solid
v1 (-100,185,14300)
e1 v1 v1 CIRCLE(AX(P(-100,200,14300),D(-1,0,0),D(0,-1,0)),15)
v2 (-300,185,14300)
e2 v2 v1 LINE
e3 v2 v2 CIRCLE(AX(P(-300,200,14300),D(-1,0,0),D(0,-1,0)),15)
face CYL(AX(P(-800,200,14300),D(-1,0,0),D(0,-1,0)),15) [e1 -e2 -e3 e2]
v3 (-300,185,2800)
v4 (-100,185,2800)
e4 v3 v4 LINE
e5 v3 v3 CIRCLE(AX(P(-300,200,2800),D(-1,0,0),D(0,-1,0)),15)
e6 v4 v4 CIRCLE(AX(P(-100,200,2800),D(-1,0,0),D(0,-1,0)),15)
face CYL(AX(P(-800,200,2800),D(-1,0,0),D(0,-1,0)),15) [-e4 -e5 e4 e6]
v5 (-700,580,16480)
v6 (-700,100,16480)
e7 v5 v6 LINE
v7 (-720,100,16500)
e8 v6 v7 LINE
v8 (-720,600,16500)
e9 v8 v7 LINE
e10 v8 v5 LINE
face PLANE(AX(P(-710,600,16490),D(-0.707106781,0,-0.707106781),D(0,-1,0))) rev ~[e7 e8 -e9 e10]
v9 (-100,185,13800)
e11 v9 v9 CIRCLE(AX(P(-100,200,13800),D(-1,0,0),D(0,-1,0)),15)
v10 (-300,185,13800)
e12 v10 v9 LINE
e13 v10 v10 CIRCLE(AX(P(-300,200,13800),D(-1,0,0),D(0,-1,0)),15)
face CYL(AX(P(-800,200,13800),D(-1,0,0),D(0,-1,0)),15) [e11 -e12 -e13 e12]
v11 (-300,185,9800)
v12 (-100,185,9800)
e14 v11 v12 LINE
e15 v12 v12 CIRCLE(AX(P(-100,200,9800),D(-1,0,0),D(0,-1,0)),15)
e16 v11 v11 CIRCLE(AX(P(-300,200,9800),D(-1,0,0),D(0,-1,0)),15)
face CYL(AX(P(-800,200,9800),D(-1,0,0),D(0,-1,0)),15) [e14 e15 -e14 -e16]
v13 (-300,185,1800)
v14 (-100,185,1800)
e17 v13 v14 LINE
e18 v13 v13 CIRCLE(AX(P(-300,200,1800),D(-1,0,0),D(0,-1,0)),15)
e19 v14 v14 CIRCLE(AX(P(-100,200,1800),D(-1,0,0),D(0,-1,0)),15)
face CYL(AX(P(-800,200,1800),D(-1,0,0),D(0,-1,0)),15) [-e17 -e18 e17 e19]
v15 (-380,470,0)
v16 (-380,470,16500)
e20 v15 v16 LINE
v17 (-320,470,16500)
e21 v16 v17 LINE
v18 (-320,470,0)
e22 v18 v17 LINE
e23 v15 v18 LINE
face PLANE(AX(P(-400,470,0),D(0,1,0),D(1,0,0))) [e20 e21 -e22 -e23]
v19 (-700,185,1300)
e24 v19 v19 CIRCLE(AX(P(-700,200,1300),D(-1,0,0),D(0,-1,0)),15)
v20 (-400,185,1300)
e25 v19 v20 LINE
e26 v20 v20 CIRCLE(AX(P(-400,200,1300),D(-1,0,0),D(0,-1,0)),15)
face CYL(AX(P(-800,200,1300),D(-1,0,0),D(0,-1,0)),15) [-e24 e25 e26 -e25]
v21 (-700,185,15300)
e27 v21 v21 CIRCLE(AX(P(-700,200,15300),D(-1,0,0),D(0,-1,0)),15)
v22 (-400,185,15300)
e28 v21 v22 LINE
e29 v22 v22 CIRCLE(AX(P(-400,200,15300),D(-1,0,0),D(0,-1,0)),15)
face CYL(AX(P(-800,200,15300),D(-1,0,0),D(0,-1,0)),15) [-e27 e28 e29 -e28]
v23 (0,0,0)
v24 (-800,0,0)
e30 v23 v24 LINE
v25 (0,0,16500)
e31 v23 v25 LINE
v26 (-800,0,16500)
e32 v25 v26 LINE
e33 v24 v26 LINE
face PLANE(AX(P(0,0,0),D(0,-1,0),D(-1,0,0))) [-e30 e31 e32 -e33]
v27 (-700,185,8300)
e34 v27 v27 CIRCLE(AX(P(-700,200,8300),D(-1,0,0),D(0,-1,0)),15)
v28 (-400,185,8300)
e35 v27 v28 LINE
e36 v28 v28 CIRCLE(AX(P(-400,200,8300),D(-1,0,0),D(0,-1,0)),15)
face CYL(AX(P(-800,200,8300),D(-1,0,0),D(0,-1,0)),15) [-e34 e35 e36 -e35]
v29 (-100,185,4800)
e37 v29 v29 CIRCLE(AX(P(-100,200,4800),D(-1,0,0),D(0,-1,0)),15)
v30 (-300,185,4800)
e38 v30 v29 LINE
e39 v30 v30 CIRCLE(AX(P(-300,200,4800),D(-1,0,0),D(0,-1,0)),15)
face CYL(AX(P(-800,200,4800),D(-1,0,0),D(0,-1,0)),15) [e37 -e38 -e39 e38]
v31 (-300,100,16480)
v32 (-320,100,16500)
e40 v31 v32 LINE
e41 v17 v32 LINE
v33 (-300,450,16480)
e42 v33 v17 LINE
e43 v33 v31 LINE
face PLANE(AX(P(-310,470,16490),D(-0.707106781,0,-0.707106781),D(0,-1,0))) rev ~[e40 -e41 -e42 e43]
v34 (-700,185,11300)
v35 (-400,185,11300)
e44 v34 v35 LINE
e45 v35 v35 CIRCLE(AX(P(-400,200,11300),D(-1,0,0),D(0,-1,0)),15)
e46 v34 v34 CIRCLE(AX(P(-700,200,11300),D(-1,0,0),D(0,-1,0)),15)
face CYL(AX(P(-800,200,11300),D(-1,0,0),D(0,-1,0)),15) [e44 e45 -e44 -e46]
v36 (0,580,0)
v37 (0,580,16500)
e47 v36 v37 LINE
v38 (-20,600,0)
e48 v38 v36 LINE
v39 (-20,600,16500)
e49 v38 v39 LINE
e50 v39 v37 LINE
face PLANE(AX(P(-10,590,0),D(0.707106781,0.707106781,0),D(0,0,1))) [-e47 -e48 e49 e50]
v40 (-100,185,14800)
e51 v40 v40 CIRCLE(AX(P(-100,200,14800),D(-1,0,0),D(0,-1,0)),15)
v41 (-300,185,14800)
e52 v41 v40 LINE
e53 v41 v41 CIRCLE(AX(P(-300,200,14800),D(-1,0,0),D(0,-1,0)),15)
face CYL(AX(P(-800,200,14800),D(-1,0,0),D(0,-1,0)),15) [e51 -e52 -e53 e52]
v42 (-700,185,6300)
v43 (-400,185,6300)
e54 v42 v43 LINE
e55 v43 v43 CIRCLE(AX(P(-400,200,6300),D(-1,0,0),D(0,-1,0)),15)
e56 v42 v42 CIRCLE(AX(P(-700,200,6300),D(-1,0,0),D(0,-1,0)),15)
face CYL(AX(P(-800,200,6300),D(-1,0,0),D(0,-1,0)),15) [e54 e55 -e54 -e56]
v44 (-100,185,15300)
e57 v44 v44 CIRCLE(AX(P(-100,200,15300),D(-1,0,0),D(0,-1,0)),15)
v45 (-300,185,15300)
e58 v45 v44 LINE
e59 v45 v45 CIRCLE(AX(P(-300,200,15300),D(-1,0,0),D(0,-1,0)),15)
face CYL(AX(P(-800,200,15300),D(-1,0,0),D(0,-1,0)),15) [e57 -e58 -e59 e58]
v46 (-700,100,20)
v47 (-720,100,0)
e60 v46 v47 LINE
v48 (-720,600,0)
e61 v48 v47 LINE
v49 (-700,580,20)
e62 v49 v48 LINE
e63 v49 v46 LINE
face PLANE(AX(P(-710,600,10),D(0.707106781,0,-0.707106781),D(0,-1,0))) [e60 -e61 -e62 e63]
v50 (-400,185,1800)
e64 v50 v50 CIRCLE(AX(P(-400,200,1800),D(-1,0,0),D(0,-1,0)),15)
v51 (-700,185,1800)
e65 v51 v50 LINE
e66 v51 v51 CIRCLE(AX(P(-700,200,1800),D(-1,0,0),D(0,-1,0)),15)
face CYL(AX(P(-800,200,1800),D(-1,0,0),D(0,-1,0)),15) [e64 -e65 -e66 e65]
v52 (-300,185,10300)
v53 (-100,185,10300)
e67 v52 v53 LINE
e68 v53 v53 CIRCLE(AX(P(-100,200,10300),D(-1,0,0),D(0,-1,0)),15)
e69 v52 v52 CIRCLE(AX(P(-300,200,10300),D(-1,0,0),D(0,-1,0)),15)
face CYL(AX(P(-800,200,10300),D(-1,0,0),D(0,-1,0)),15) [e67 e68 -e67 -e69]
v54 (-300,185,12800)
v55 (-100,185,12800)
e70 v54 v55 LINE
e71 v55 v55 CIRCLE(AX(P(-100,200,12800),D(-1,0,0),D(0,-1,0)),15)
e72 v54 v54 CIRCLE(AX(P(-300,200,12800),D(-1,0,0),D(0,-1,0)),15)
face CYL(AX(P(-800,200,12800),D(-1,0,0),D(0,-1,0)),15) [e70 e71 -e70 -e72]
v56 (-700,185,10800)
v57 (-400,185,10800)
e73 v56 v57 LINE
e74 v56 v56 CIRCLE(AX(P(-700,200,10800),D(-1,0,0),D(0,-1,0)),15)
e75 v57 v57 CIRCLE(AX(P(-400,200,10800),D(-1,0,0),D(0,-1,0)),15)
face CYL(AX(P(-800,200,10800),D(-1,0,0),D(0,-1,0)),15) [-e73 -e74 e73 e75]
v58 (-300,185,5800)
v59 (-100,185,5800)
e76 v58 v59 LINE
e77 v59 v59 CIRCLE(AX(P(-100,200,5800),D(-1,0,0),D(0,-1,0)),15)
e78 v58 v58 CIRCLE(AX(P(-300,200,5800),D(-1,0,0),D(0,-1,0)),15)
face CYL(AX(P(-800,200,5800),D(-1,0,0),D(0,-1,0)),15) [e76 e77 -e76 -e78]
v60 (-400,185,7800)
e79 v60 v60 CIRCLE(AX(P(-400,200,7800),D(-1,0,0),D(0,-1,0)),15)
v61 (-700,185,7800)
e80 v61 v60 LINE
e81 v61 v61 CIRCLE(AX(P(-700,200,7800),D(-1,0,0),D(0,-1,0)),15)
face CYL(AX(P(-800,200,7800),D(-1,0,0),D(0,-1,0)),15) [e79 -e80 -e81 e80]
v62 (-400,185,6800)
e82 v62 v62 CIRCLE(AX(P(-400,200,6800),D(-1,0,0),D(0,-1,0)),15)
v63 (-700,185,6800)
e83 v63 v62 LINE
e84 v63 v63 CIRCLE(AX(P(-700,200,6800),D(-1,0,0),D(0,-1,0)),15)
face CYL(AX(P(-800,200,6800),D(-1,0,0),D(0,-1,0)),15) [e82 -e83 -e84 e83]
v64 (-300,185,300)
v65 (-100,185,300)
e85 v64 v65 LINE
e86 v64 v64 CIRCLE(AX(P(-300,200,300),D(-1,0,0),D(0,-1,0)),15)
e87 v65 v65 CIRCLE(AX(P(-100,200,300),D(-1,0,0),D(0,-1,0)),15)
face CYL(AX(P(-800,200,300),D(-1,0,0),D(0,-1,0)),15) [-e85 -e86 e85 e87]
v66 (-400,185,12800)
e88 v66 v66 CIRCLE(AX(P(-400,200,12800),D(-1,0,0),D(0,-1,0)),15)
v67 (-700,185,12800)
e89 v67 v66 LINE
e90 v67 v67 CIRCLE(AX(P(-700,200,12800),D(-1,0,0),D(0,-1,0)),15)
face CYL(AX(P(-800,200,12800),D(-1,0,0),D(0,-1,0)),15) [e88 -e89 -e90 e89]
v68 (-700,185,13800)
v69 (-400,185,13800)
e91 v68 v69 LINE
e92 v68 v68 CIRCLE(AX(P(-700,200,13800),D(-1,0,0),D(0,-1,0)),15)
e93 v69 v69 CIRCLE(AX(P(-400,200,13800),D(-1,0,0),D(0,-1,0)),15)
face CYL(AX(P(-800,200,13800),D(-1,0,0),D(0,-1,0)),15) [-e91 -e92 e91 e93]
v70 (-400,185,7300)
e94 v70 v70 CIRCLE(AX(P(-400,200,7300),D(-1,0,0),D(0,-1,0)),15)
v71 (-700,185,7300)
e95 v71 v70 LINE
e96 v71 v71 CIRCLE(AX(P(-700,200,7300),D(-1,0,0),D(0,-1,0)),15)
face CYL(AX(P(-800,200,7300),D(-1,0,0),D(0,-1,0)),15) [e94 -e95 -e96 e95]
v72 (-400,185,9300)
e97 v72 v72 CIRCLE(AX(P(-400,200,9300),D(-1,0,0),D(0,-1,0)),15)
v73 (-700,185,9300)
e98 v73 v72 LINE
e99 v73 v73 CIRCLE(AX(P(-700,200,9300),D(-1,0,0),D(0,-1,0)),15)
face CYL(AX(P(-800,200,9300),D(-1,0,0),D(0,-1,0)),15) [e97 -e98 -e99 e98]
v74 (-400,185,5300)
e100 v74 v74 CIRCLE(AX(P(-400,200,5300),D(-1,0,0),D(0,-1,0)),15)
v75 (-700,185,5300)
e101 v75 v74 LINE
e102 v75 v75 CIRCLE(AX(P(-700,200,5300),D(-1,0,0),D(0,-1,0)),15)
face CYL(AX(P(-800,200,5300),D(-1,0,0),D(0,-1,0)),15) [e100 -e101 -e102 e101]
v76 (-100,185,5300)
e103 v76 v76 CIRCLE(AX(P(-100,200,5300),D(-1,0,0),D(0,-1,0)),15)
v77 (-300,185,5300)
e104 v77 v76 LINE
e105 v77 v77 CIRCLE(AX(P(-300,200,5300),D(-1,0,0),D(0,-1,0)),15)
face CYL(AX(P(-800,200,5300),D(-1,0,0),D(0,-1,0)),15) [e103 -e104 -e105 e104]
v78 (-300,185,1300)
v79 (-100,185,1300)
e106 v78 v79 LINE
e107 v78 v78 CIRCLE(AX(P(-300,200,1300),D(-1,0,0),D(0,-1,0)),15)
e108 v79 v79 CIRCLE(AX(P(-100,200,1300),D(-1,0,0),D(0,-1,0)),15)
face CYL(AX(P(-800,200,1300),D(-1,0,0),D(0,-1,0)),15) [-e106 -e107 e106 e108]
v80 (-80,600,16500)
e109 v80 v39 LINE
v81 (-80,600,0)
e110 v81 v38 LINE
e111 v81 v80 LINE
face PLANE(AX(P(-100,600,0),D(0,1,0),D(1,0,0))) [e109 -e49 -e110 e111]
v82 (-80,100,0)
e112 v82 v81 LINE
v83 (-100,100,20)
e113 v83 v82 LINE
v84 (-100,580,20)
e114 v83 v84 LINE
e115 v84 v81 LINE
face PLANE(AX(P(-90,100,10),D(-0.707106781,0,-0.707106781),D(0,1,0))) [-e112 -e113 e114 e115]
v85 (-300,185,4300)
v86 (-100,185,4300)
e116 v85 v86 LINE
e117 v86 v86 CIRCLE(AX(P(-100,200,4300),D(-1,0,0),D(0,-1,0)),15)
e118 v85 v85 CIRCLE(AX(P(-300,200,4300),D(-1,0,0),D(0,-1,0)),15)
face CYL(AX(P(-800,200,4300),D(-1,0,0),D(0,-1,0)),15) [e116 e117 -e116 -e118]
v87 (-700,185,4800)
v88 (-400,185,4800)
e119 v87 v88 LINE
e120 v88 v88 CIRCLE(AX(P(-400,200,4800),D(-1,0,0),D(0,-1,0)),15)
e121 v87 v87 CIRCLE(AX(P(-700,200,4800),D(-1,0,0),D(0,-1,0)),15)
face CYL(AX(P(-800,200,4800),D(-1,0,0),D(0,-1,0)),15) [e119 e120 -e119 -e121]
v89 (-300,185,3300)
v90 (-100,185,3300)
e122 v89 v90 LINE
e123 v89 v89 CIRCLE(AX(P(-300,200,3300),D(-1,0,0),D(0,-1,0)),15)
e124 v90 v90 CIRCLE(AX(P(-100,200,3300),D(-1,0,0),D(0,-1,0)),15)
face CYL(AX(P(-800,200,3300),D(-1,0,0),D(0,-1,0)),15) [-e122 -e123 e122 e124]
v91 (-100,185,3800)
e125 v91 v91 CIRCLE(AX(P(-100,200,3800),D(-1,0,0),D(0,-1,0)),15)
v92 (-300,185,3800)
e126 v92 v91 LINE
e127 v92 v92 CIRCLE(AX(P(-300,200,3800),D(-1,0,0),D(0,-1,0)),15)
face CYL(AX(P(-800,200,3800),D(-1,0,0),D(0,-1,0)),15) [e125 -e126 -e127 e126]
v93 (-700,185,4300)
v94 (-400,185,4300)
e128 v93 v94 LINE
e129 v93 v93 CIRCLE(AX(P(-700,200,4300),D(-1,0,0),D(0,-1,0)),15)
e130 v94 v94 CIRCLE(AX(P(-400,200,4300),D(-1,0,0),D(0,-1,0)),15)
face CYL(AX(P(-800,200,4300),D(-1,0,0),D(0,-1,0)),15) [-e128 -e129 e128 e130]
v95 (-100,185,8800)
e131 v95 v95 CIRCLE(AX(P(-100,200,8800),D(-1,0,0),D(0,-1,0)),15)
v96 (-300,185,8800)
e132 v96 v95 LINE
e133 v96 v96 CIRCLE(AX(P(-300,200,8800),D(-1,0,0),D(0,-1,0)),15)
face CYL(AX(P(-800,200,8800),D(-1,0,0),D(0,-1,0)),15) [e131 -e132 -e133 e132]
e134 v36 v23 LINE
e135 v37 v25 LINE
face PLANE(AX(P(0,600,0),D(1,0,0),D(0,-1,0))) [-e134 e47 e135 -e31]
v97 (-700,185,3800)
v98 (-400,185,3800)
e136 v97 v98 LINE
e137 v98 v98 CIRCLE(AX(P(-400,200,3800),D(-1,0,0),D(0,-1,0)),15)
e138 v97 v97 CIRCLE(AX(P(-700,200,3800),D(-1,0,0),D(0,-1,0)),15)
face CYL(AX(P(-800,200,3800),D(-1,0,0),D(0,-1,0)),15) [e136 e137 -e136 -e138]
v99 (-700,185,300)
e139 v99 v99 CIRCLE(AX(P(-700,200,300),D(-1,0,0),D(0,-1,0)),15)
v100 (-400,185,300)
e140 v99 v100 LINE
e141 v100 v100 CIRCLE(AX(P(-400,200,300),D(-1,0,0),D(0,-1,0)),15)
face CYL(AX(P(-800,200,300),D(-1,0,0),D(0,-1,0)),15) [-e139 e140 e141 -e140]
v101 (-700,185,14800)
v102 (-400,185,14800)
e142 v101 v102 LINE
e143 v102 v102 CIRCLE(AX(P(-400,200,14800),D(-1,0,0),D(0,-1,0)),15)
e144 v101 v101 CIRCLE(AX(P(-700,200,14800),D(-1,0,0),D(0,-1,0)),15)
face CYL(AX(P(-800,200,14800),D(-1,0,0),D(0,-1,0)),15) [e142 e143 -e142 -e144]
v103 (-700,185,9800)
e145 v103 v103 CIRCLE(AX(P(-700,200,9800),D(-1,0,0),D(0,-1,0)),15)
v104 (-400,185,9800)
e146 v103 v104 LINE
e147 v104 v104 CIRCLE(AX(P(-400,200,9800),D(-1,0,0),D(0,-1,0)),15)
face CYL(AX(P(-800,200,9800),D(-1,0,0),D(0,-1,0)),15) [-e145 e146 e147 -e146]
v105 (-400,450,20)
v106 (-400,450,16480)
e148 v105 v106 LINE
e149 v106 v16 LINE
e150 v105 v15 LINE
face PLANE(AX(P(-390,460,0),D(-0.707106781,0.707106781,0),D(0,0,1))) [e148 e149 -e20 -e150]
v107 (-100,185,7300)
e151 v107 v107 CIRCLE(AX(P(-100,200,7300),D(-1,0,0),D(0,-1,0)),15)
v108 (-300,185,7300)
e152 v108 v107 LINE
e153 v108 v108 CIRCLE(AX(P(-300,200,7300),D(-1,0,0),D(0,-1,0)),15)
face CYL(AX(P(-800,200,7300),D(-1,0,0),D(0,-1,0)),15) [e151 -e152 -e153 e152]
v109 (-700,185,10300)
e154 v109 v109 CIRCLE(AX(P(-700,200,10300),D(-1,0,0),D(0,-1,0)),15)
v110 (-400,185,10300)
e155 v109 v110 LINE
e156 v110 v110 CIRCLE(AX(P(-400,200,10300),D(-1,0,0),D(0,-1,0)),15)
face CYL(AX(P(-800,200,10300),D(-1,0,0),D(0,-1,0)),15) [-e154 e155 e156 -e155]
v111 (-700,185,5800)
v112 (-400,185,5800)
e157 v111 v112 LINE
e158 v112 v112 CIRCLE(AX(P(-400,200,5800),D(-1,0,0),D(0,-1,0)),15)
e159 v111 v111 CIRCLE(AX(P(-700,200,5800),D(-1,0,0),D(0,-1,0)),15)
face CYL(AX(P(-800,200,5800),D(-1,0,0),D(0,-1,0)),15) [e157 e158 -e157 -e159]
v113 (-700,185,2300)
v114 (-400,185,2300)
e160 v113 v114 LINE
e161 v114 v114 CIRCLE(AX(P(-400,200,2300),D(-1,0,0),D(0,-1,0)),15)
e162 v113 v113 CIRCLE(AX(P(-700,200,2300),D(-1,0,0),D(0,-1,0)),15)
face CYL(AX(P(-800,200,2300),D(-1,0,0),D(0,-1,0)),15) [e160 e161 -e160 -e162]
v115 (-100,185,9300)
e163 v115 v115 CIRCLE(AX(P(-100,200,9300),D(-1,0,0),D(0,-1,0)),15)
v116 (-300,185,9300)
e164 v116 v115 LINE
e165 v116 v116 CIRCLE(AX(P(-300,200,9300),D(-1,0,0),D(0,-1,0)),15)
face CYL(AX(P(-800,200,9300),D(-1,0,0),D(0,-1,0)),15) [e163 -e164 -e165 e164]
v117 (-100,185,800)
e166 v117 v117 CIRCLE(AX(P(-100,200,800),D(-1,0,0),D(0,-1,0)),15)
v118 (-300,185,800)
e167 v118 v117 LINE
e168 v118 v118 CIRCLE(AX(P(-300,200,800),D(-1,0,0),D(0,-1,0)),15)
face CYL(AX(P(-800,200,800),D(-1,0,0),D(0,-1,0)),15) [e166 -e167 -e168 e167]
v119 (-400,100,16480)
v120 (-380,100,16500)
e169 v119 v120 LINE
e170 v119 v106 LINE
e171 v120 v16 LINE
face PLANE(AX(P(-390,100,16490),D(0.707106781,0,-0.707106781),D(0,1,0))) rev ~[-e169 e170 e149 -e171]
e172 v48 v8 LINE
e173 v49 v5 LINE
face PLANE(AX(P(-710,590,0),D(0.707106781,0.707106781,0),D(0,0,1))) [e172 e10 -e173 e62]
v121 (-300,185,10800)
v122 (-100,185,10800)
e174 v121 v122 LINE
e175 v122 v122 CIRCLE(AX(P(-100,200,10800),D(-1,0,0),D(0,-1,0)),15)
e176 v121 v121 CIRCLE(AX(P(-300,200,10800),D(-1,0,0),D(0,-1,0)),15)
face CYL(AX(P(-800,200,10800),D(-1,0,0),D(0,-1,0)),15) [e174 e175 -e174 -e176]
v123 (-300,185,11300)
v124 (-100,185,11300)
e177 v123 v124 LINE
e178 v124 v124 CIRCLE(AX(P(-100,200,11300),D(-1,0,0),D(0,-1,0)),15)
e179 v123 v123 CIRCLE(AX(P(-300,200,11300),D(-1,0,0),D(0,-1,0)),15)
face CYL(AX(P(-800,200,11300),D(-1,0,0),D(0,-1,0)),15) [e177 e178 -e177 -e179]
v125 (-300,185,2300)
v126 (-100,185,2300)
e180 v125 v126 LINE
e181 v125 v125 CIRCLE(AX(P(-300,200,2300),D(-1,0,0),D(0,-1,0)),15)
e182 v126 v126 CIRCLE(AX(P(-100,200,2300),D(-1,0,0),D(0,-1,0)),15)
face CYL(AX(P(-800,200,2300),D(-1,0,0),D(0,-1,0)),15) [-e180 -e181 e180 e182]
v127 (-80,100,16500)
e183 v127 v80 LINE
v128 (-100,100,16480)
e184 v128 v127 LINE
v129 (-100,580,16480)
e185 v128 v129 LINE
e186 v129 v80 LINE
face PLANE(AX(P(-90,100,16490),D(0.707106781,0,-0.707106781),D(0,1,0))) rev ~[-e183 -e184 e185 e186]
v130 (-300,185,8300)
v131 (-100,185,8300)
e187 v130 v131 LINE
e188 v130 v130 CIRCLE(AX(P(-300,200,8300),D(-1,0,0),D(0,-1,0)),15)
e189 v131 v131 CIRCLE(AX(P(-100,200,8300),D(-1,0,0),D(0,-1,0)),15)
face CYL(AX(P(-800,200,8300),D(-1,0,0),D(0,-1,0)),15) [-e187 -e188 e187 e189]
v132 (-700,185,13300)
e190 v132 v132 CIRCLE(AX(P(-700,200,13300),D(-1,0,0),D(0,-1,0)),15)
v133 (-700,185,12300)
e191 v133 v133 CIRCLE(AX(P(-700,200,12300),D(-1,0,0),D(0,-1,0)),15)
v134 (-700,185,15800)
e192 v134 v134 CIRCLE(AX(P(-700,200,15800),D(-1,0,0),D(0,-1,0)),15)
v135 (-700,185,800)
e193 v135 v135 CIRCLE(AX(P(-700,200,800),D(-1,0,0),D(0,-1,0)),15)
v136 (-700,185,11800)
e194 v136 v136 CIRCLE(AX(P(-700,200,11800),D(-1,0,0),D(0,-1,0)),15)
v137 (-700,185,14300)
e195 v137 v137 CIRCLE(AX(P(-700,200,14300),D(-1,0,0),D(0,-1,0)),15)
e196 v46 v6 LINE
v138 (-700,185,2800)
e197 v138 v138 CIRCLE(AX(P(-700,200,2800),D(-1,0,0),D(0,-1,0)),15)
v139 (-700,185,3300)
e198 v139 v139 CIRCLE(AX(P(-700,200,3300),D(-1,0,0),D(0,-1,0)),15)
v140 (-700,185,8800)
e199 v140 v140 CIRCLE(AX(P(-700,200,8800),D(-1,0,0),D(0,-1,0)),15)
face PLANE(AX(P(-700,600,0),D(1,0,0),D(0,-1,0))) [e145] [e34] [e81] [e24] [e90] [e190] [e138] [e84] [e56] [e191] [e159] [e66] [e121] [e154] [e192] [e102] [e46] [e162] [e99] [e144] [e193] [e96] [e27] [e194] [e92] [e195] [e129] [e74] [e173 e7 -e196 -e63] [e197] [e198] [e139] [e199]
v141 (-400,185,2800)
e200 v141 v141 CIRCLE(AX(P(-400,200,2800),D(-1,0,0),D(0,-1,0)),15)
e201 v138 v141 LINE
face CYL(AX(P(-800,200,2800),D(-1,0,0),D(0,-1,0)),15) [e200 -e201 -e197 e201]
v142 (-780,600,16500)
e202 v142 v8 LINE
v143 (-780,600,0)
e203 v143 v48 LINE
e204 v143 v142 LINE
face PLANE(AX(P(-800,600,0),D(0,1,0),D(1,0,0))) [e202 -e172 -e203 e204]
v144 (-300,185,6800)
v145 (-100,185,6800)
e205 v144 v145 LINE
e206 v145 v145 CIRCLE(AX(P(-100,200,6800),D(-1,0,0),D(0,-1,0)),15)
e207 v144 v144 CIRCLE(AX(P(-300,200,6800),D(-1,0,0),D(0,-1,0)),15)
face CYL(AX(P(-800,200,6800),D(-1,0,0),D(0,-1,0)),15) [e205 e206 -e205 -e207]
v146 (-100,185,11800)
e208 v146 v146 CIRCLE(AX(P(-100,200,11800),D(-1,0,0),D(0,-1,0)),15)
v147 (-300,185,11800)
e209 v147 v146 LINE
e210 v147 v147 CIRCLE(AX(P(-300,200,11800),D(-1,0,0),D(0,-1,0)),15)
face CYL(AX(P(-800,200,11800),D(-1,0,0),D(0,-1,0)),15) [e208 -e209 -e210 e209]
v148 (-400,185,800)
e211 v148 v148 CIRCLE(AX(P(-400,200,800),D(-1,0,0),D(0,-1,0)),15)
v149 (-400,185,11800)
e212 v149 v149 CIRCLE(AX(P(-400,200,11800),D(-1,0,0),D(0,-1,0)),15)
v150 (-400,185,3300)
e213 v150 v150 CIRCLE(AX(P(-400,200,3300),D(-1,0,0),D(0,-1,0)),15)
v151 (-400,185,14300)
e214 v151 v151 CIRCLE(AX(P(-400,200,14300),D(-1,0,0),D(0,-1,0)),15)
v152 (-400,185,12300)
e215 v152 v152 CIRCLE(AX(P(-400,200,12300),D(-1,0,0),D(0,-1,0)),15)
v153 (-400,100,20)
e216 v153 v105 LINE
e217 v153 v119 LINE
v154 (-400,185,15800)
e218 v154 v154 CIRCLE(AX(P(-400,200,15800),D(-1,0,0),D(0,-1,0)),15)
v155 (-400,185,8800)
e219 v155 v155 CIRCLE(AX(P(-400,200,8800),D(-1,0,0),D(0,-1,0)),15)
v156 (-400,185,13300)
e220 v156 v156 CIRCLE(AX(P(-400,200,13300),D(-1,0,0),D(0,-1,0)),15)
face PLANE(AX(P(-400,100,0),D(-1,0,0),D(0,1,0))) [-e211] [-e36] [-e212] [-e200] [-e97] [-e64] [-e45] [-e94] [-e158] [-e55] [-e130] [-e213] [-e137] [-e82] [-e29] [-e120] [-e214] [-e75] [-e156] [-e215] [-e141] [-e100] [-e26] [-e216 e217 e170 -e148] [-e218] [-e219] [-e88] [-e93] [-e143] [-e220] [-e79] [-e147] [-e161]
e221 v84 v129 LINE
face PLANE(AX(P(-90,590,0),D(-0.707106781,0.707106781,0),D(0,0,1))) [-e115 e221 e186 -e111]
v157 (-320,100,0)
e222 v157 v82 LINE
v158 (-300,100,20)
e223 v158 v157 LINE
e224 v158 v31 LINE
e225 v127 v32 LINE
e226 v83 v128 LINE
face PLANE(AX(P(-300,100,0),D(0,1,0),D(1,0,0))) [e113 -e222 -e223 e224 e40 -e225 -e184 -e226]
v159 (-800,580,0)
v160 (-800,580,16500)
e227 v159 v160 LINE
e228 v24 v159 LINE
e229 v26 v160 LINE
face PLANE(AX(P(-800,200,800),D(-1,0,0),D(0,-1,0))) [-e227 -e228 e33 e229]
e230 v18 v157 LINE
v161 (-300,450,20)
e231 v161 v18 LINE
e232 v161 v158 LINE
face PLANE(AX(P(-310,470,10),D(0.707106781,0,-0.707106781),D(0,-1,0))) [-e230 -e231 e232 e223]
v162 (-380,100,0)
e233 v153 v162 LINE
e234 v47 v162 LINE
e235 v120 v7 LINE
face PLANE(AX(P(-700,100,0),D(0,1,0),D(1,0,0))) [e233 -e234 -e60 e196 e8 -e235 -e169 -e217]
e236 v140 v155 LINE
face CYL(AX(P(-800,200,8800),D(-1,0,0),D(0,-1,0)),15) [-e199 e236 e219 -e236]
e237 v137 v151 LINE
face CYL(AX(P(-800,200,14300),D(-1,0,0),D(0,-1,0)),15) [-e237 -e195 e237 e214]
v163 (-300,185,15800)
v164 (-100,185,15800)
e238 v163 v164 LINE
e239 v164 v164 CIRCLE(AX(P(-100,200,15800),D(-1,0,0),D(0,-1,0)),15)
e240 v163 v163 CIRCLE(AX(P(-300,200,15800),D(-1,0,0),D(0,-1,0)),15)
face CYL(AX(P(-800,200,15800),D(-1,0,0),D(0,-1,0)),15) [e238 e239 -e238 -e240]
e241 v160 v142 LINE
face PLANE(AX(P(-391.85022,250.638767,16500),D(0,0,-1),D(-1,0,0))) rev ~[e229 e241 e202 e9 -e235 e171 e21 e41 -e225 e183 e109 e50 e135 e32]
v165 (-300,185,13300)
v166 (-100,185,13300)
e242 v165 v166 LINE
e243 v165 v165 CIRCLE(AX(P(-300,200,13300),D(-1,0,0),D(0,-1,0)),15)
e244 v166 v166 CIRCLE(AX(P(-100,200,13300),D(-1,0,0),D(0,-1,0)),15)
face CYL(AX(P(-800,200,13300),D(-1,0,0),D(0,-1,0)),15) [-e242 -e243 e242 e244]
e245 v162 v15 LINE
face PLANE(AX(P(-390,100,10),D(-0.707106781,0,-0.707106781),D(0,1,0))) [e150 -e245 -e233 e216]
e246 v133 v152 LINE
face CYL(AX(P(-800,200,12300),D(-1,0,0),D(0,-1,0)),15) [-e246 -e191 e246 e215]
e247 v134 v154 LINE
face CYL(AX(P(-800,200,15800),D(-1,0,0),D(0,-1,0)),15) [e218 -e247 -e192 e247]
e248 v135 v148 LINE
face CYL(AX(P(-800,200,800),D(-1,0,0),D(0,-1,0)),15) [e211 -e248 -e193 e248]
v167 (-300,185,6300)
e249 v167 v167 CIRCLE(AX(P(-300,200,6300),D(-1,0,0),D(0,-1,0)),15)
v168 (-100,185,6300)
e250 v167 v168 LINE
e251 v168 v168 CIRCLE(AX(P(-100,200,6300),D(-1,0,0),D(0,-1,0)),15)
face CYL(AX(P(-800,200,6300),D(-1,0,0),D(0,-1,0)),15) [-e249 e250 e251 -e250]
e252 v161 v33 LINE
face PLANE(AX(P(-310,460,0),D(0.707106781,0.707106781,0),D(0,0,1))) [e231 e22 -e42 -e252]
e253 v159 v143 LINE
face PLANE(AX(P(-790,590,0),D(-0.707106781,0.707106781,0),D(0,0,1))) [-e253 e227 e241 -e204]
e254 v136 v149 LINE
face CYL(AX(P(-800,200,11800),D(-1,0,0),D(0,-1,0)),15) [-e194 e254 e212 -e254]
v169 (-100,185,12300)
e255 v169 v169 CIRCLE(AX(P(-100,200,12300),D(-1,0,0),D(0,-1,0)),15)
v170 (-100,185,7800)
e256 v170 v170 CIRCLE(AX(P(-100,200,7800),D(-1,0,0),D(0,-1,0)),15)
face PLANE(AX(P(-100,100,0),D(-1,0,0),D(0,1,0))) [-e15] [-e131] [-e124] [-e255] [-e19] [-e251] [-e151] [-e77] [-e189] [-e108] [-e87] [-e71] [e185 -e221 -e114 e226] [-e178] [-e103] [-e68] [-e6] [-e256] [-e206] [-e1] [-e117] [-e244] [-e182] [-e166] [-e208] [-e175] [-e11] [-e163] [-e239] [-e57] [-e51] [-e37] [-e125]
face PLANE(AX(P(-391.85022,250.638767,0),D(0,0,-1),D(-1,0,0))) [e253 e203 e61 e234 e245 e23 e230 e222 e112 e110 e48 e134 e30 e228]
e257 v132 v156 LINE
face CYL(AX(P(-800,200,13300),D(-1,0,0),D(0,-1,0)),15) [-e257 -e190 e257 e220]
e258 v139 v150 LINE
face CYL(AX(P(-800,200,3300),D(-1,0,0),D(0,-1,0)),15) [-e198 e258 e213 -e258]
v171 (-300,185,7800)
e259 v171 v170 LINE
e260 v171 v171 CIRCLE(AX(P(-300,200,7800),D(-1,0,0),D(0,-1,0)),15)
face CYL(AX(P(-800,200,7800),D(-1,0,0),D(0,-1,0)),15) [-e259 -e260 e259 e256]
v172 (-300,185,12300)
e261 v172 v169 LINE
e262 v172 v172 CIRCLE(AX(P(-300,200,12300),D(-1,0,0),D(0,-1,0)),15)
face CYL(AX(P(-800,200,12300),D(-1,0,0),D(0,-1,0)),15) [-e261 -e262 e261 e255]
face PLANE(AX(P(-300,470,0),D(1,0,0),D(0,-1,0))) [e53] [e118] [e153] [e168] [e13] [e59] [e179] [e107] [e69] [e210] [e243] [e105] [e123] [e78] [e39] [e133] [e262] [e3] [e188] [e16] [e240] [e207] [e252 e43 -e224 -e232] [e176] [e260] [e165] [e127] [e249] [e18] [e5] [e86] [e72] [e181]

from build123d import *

# Parameters (mm, degrees)
SALIENTE_EXTRUIR1_DEPTH = 16500
CHAFL_N2_SIZE           = 20
SALIENTE_EXTRUIR2_REACH = 16532.275
CROQUIS2_R              = 15
MATRIZL1_COUNT          = 32
MATRIZL1_PITCH          = 500


with BuildPart() as part:
    # Croquis1 → Saliente-Extruir1 (new body)
    with BuildSketch(Plane.XY):
        Polygon((0, 0), (-800, 0), (-800, 600), (-700, 600), (-700, 100), (-400, 100), (-400, 470), (-300, 470), (-300, 100), (-100, 100), (-100, 600), (0, 600), align=None)
    extrude(amount=SALIENTE_EXTRUIR1_DEPTH)

    # Chaflán2
    chafl_n2_edges = [part.edges().sort_by_distance(p)[0] for p in [
        (-100, 350, 16500),
        (-700, 350, 0),
        (-400, 285, 0),
        (-300, 285, 0),
        (-100, 350, 0),
        (-300, 285, 16500),
        (-800, 600, 8250),
        (-700, 600, 8250),
        (-400, 470, 8250),
        (-300, 470, 8250),
        (-100, 600, 8250),
        (0, 600, 8250),
        (-400, 285, 16500),
        (-700, 350, 16500),
    ]]
    chamfer(chafl_n2_edges, length=CHAFL_N2_SIZE)

    # Saliente-Extruir2: up to this face of the body (flat: up to its plane)
    saliente_extruir2_end = Plane(part.part.faces().sort_by_distance((-100, 340, 8250))[0])
    # Croquis2 → Saliente-Extruir2 (add, up to the picked face)
    with BuildSketch(Plane.ZY.offset(800), mode=Mode.PRIVATE) as saliente_extruir2_sk1:
        with Locations(Location((300, 200, 0), (0, 0, 270))):
            Circle(CROQUIS2_R)
    saliente_extruir2_tool1 = split(extrude(saliente_extruir2_sk1.sketch, amount=-SALIENTE_EXTRUIR2_REACH, mode=Mode.PRIVATE), bisect_by=saliente_extruir2_end, keep=Keep.BOTH, mode=Mode.PRIVATE)
    saliente_extruir2 = saliente_extruir2_tool1.solids().sort_by(Axis((-800, 200, 300), (1, 0, 0)))[0]
    add(saliente_extruir2)

    # MatrizL1: Saliente-Extruir2 ×32
    with Locations(*[(0, 0, i * MATRIZL1_PITCH) for i in range(1, MATRIZL1_COUNT)]):
        add(saliente_extruir2)


solid = part.part
